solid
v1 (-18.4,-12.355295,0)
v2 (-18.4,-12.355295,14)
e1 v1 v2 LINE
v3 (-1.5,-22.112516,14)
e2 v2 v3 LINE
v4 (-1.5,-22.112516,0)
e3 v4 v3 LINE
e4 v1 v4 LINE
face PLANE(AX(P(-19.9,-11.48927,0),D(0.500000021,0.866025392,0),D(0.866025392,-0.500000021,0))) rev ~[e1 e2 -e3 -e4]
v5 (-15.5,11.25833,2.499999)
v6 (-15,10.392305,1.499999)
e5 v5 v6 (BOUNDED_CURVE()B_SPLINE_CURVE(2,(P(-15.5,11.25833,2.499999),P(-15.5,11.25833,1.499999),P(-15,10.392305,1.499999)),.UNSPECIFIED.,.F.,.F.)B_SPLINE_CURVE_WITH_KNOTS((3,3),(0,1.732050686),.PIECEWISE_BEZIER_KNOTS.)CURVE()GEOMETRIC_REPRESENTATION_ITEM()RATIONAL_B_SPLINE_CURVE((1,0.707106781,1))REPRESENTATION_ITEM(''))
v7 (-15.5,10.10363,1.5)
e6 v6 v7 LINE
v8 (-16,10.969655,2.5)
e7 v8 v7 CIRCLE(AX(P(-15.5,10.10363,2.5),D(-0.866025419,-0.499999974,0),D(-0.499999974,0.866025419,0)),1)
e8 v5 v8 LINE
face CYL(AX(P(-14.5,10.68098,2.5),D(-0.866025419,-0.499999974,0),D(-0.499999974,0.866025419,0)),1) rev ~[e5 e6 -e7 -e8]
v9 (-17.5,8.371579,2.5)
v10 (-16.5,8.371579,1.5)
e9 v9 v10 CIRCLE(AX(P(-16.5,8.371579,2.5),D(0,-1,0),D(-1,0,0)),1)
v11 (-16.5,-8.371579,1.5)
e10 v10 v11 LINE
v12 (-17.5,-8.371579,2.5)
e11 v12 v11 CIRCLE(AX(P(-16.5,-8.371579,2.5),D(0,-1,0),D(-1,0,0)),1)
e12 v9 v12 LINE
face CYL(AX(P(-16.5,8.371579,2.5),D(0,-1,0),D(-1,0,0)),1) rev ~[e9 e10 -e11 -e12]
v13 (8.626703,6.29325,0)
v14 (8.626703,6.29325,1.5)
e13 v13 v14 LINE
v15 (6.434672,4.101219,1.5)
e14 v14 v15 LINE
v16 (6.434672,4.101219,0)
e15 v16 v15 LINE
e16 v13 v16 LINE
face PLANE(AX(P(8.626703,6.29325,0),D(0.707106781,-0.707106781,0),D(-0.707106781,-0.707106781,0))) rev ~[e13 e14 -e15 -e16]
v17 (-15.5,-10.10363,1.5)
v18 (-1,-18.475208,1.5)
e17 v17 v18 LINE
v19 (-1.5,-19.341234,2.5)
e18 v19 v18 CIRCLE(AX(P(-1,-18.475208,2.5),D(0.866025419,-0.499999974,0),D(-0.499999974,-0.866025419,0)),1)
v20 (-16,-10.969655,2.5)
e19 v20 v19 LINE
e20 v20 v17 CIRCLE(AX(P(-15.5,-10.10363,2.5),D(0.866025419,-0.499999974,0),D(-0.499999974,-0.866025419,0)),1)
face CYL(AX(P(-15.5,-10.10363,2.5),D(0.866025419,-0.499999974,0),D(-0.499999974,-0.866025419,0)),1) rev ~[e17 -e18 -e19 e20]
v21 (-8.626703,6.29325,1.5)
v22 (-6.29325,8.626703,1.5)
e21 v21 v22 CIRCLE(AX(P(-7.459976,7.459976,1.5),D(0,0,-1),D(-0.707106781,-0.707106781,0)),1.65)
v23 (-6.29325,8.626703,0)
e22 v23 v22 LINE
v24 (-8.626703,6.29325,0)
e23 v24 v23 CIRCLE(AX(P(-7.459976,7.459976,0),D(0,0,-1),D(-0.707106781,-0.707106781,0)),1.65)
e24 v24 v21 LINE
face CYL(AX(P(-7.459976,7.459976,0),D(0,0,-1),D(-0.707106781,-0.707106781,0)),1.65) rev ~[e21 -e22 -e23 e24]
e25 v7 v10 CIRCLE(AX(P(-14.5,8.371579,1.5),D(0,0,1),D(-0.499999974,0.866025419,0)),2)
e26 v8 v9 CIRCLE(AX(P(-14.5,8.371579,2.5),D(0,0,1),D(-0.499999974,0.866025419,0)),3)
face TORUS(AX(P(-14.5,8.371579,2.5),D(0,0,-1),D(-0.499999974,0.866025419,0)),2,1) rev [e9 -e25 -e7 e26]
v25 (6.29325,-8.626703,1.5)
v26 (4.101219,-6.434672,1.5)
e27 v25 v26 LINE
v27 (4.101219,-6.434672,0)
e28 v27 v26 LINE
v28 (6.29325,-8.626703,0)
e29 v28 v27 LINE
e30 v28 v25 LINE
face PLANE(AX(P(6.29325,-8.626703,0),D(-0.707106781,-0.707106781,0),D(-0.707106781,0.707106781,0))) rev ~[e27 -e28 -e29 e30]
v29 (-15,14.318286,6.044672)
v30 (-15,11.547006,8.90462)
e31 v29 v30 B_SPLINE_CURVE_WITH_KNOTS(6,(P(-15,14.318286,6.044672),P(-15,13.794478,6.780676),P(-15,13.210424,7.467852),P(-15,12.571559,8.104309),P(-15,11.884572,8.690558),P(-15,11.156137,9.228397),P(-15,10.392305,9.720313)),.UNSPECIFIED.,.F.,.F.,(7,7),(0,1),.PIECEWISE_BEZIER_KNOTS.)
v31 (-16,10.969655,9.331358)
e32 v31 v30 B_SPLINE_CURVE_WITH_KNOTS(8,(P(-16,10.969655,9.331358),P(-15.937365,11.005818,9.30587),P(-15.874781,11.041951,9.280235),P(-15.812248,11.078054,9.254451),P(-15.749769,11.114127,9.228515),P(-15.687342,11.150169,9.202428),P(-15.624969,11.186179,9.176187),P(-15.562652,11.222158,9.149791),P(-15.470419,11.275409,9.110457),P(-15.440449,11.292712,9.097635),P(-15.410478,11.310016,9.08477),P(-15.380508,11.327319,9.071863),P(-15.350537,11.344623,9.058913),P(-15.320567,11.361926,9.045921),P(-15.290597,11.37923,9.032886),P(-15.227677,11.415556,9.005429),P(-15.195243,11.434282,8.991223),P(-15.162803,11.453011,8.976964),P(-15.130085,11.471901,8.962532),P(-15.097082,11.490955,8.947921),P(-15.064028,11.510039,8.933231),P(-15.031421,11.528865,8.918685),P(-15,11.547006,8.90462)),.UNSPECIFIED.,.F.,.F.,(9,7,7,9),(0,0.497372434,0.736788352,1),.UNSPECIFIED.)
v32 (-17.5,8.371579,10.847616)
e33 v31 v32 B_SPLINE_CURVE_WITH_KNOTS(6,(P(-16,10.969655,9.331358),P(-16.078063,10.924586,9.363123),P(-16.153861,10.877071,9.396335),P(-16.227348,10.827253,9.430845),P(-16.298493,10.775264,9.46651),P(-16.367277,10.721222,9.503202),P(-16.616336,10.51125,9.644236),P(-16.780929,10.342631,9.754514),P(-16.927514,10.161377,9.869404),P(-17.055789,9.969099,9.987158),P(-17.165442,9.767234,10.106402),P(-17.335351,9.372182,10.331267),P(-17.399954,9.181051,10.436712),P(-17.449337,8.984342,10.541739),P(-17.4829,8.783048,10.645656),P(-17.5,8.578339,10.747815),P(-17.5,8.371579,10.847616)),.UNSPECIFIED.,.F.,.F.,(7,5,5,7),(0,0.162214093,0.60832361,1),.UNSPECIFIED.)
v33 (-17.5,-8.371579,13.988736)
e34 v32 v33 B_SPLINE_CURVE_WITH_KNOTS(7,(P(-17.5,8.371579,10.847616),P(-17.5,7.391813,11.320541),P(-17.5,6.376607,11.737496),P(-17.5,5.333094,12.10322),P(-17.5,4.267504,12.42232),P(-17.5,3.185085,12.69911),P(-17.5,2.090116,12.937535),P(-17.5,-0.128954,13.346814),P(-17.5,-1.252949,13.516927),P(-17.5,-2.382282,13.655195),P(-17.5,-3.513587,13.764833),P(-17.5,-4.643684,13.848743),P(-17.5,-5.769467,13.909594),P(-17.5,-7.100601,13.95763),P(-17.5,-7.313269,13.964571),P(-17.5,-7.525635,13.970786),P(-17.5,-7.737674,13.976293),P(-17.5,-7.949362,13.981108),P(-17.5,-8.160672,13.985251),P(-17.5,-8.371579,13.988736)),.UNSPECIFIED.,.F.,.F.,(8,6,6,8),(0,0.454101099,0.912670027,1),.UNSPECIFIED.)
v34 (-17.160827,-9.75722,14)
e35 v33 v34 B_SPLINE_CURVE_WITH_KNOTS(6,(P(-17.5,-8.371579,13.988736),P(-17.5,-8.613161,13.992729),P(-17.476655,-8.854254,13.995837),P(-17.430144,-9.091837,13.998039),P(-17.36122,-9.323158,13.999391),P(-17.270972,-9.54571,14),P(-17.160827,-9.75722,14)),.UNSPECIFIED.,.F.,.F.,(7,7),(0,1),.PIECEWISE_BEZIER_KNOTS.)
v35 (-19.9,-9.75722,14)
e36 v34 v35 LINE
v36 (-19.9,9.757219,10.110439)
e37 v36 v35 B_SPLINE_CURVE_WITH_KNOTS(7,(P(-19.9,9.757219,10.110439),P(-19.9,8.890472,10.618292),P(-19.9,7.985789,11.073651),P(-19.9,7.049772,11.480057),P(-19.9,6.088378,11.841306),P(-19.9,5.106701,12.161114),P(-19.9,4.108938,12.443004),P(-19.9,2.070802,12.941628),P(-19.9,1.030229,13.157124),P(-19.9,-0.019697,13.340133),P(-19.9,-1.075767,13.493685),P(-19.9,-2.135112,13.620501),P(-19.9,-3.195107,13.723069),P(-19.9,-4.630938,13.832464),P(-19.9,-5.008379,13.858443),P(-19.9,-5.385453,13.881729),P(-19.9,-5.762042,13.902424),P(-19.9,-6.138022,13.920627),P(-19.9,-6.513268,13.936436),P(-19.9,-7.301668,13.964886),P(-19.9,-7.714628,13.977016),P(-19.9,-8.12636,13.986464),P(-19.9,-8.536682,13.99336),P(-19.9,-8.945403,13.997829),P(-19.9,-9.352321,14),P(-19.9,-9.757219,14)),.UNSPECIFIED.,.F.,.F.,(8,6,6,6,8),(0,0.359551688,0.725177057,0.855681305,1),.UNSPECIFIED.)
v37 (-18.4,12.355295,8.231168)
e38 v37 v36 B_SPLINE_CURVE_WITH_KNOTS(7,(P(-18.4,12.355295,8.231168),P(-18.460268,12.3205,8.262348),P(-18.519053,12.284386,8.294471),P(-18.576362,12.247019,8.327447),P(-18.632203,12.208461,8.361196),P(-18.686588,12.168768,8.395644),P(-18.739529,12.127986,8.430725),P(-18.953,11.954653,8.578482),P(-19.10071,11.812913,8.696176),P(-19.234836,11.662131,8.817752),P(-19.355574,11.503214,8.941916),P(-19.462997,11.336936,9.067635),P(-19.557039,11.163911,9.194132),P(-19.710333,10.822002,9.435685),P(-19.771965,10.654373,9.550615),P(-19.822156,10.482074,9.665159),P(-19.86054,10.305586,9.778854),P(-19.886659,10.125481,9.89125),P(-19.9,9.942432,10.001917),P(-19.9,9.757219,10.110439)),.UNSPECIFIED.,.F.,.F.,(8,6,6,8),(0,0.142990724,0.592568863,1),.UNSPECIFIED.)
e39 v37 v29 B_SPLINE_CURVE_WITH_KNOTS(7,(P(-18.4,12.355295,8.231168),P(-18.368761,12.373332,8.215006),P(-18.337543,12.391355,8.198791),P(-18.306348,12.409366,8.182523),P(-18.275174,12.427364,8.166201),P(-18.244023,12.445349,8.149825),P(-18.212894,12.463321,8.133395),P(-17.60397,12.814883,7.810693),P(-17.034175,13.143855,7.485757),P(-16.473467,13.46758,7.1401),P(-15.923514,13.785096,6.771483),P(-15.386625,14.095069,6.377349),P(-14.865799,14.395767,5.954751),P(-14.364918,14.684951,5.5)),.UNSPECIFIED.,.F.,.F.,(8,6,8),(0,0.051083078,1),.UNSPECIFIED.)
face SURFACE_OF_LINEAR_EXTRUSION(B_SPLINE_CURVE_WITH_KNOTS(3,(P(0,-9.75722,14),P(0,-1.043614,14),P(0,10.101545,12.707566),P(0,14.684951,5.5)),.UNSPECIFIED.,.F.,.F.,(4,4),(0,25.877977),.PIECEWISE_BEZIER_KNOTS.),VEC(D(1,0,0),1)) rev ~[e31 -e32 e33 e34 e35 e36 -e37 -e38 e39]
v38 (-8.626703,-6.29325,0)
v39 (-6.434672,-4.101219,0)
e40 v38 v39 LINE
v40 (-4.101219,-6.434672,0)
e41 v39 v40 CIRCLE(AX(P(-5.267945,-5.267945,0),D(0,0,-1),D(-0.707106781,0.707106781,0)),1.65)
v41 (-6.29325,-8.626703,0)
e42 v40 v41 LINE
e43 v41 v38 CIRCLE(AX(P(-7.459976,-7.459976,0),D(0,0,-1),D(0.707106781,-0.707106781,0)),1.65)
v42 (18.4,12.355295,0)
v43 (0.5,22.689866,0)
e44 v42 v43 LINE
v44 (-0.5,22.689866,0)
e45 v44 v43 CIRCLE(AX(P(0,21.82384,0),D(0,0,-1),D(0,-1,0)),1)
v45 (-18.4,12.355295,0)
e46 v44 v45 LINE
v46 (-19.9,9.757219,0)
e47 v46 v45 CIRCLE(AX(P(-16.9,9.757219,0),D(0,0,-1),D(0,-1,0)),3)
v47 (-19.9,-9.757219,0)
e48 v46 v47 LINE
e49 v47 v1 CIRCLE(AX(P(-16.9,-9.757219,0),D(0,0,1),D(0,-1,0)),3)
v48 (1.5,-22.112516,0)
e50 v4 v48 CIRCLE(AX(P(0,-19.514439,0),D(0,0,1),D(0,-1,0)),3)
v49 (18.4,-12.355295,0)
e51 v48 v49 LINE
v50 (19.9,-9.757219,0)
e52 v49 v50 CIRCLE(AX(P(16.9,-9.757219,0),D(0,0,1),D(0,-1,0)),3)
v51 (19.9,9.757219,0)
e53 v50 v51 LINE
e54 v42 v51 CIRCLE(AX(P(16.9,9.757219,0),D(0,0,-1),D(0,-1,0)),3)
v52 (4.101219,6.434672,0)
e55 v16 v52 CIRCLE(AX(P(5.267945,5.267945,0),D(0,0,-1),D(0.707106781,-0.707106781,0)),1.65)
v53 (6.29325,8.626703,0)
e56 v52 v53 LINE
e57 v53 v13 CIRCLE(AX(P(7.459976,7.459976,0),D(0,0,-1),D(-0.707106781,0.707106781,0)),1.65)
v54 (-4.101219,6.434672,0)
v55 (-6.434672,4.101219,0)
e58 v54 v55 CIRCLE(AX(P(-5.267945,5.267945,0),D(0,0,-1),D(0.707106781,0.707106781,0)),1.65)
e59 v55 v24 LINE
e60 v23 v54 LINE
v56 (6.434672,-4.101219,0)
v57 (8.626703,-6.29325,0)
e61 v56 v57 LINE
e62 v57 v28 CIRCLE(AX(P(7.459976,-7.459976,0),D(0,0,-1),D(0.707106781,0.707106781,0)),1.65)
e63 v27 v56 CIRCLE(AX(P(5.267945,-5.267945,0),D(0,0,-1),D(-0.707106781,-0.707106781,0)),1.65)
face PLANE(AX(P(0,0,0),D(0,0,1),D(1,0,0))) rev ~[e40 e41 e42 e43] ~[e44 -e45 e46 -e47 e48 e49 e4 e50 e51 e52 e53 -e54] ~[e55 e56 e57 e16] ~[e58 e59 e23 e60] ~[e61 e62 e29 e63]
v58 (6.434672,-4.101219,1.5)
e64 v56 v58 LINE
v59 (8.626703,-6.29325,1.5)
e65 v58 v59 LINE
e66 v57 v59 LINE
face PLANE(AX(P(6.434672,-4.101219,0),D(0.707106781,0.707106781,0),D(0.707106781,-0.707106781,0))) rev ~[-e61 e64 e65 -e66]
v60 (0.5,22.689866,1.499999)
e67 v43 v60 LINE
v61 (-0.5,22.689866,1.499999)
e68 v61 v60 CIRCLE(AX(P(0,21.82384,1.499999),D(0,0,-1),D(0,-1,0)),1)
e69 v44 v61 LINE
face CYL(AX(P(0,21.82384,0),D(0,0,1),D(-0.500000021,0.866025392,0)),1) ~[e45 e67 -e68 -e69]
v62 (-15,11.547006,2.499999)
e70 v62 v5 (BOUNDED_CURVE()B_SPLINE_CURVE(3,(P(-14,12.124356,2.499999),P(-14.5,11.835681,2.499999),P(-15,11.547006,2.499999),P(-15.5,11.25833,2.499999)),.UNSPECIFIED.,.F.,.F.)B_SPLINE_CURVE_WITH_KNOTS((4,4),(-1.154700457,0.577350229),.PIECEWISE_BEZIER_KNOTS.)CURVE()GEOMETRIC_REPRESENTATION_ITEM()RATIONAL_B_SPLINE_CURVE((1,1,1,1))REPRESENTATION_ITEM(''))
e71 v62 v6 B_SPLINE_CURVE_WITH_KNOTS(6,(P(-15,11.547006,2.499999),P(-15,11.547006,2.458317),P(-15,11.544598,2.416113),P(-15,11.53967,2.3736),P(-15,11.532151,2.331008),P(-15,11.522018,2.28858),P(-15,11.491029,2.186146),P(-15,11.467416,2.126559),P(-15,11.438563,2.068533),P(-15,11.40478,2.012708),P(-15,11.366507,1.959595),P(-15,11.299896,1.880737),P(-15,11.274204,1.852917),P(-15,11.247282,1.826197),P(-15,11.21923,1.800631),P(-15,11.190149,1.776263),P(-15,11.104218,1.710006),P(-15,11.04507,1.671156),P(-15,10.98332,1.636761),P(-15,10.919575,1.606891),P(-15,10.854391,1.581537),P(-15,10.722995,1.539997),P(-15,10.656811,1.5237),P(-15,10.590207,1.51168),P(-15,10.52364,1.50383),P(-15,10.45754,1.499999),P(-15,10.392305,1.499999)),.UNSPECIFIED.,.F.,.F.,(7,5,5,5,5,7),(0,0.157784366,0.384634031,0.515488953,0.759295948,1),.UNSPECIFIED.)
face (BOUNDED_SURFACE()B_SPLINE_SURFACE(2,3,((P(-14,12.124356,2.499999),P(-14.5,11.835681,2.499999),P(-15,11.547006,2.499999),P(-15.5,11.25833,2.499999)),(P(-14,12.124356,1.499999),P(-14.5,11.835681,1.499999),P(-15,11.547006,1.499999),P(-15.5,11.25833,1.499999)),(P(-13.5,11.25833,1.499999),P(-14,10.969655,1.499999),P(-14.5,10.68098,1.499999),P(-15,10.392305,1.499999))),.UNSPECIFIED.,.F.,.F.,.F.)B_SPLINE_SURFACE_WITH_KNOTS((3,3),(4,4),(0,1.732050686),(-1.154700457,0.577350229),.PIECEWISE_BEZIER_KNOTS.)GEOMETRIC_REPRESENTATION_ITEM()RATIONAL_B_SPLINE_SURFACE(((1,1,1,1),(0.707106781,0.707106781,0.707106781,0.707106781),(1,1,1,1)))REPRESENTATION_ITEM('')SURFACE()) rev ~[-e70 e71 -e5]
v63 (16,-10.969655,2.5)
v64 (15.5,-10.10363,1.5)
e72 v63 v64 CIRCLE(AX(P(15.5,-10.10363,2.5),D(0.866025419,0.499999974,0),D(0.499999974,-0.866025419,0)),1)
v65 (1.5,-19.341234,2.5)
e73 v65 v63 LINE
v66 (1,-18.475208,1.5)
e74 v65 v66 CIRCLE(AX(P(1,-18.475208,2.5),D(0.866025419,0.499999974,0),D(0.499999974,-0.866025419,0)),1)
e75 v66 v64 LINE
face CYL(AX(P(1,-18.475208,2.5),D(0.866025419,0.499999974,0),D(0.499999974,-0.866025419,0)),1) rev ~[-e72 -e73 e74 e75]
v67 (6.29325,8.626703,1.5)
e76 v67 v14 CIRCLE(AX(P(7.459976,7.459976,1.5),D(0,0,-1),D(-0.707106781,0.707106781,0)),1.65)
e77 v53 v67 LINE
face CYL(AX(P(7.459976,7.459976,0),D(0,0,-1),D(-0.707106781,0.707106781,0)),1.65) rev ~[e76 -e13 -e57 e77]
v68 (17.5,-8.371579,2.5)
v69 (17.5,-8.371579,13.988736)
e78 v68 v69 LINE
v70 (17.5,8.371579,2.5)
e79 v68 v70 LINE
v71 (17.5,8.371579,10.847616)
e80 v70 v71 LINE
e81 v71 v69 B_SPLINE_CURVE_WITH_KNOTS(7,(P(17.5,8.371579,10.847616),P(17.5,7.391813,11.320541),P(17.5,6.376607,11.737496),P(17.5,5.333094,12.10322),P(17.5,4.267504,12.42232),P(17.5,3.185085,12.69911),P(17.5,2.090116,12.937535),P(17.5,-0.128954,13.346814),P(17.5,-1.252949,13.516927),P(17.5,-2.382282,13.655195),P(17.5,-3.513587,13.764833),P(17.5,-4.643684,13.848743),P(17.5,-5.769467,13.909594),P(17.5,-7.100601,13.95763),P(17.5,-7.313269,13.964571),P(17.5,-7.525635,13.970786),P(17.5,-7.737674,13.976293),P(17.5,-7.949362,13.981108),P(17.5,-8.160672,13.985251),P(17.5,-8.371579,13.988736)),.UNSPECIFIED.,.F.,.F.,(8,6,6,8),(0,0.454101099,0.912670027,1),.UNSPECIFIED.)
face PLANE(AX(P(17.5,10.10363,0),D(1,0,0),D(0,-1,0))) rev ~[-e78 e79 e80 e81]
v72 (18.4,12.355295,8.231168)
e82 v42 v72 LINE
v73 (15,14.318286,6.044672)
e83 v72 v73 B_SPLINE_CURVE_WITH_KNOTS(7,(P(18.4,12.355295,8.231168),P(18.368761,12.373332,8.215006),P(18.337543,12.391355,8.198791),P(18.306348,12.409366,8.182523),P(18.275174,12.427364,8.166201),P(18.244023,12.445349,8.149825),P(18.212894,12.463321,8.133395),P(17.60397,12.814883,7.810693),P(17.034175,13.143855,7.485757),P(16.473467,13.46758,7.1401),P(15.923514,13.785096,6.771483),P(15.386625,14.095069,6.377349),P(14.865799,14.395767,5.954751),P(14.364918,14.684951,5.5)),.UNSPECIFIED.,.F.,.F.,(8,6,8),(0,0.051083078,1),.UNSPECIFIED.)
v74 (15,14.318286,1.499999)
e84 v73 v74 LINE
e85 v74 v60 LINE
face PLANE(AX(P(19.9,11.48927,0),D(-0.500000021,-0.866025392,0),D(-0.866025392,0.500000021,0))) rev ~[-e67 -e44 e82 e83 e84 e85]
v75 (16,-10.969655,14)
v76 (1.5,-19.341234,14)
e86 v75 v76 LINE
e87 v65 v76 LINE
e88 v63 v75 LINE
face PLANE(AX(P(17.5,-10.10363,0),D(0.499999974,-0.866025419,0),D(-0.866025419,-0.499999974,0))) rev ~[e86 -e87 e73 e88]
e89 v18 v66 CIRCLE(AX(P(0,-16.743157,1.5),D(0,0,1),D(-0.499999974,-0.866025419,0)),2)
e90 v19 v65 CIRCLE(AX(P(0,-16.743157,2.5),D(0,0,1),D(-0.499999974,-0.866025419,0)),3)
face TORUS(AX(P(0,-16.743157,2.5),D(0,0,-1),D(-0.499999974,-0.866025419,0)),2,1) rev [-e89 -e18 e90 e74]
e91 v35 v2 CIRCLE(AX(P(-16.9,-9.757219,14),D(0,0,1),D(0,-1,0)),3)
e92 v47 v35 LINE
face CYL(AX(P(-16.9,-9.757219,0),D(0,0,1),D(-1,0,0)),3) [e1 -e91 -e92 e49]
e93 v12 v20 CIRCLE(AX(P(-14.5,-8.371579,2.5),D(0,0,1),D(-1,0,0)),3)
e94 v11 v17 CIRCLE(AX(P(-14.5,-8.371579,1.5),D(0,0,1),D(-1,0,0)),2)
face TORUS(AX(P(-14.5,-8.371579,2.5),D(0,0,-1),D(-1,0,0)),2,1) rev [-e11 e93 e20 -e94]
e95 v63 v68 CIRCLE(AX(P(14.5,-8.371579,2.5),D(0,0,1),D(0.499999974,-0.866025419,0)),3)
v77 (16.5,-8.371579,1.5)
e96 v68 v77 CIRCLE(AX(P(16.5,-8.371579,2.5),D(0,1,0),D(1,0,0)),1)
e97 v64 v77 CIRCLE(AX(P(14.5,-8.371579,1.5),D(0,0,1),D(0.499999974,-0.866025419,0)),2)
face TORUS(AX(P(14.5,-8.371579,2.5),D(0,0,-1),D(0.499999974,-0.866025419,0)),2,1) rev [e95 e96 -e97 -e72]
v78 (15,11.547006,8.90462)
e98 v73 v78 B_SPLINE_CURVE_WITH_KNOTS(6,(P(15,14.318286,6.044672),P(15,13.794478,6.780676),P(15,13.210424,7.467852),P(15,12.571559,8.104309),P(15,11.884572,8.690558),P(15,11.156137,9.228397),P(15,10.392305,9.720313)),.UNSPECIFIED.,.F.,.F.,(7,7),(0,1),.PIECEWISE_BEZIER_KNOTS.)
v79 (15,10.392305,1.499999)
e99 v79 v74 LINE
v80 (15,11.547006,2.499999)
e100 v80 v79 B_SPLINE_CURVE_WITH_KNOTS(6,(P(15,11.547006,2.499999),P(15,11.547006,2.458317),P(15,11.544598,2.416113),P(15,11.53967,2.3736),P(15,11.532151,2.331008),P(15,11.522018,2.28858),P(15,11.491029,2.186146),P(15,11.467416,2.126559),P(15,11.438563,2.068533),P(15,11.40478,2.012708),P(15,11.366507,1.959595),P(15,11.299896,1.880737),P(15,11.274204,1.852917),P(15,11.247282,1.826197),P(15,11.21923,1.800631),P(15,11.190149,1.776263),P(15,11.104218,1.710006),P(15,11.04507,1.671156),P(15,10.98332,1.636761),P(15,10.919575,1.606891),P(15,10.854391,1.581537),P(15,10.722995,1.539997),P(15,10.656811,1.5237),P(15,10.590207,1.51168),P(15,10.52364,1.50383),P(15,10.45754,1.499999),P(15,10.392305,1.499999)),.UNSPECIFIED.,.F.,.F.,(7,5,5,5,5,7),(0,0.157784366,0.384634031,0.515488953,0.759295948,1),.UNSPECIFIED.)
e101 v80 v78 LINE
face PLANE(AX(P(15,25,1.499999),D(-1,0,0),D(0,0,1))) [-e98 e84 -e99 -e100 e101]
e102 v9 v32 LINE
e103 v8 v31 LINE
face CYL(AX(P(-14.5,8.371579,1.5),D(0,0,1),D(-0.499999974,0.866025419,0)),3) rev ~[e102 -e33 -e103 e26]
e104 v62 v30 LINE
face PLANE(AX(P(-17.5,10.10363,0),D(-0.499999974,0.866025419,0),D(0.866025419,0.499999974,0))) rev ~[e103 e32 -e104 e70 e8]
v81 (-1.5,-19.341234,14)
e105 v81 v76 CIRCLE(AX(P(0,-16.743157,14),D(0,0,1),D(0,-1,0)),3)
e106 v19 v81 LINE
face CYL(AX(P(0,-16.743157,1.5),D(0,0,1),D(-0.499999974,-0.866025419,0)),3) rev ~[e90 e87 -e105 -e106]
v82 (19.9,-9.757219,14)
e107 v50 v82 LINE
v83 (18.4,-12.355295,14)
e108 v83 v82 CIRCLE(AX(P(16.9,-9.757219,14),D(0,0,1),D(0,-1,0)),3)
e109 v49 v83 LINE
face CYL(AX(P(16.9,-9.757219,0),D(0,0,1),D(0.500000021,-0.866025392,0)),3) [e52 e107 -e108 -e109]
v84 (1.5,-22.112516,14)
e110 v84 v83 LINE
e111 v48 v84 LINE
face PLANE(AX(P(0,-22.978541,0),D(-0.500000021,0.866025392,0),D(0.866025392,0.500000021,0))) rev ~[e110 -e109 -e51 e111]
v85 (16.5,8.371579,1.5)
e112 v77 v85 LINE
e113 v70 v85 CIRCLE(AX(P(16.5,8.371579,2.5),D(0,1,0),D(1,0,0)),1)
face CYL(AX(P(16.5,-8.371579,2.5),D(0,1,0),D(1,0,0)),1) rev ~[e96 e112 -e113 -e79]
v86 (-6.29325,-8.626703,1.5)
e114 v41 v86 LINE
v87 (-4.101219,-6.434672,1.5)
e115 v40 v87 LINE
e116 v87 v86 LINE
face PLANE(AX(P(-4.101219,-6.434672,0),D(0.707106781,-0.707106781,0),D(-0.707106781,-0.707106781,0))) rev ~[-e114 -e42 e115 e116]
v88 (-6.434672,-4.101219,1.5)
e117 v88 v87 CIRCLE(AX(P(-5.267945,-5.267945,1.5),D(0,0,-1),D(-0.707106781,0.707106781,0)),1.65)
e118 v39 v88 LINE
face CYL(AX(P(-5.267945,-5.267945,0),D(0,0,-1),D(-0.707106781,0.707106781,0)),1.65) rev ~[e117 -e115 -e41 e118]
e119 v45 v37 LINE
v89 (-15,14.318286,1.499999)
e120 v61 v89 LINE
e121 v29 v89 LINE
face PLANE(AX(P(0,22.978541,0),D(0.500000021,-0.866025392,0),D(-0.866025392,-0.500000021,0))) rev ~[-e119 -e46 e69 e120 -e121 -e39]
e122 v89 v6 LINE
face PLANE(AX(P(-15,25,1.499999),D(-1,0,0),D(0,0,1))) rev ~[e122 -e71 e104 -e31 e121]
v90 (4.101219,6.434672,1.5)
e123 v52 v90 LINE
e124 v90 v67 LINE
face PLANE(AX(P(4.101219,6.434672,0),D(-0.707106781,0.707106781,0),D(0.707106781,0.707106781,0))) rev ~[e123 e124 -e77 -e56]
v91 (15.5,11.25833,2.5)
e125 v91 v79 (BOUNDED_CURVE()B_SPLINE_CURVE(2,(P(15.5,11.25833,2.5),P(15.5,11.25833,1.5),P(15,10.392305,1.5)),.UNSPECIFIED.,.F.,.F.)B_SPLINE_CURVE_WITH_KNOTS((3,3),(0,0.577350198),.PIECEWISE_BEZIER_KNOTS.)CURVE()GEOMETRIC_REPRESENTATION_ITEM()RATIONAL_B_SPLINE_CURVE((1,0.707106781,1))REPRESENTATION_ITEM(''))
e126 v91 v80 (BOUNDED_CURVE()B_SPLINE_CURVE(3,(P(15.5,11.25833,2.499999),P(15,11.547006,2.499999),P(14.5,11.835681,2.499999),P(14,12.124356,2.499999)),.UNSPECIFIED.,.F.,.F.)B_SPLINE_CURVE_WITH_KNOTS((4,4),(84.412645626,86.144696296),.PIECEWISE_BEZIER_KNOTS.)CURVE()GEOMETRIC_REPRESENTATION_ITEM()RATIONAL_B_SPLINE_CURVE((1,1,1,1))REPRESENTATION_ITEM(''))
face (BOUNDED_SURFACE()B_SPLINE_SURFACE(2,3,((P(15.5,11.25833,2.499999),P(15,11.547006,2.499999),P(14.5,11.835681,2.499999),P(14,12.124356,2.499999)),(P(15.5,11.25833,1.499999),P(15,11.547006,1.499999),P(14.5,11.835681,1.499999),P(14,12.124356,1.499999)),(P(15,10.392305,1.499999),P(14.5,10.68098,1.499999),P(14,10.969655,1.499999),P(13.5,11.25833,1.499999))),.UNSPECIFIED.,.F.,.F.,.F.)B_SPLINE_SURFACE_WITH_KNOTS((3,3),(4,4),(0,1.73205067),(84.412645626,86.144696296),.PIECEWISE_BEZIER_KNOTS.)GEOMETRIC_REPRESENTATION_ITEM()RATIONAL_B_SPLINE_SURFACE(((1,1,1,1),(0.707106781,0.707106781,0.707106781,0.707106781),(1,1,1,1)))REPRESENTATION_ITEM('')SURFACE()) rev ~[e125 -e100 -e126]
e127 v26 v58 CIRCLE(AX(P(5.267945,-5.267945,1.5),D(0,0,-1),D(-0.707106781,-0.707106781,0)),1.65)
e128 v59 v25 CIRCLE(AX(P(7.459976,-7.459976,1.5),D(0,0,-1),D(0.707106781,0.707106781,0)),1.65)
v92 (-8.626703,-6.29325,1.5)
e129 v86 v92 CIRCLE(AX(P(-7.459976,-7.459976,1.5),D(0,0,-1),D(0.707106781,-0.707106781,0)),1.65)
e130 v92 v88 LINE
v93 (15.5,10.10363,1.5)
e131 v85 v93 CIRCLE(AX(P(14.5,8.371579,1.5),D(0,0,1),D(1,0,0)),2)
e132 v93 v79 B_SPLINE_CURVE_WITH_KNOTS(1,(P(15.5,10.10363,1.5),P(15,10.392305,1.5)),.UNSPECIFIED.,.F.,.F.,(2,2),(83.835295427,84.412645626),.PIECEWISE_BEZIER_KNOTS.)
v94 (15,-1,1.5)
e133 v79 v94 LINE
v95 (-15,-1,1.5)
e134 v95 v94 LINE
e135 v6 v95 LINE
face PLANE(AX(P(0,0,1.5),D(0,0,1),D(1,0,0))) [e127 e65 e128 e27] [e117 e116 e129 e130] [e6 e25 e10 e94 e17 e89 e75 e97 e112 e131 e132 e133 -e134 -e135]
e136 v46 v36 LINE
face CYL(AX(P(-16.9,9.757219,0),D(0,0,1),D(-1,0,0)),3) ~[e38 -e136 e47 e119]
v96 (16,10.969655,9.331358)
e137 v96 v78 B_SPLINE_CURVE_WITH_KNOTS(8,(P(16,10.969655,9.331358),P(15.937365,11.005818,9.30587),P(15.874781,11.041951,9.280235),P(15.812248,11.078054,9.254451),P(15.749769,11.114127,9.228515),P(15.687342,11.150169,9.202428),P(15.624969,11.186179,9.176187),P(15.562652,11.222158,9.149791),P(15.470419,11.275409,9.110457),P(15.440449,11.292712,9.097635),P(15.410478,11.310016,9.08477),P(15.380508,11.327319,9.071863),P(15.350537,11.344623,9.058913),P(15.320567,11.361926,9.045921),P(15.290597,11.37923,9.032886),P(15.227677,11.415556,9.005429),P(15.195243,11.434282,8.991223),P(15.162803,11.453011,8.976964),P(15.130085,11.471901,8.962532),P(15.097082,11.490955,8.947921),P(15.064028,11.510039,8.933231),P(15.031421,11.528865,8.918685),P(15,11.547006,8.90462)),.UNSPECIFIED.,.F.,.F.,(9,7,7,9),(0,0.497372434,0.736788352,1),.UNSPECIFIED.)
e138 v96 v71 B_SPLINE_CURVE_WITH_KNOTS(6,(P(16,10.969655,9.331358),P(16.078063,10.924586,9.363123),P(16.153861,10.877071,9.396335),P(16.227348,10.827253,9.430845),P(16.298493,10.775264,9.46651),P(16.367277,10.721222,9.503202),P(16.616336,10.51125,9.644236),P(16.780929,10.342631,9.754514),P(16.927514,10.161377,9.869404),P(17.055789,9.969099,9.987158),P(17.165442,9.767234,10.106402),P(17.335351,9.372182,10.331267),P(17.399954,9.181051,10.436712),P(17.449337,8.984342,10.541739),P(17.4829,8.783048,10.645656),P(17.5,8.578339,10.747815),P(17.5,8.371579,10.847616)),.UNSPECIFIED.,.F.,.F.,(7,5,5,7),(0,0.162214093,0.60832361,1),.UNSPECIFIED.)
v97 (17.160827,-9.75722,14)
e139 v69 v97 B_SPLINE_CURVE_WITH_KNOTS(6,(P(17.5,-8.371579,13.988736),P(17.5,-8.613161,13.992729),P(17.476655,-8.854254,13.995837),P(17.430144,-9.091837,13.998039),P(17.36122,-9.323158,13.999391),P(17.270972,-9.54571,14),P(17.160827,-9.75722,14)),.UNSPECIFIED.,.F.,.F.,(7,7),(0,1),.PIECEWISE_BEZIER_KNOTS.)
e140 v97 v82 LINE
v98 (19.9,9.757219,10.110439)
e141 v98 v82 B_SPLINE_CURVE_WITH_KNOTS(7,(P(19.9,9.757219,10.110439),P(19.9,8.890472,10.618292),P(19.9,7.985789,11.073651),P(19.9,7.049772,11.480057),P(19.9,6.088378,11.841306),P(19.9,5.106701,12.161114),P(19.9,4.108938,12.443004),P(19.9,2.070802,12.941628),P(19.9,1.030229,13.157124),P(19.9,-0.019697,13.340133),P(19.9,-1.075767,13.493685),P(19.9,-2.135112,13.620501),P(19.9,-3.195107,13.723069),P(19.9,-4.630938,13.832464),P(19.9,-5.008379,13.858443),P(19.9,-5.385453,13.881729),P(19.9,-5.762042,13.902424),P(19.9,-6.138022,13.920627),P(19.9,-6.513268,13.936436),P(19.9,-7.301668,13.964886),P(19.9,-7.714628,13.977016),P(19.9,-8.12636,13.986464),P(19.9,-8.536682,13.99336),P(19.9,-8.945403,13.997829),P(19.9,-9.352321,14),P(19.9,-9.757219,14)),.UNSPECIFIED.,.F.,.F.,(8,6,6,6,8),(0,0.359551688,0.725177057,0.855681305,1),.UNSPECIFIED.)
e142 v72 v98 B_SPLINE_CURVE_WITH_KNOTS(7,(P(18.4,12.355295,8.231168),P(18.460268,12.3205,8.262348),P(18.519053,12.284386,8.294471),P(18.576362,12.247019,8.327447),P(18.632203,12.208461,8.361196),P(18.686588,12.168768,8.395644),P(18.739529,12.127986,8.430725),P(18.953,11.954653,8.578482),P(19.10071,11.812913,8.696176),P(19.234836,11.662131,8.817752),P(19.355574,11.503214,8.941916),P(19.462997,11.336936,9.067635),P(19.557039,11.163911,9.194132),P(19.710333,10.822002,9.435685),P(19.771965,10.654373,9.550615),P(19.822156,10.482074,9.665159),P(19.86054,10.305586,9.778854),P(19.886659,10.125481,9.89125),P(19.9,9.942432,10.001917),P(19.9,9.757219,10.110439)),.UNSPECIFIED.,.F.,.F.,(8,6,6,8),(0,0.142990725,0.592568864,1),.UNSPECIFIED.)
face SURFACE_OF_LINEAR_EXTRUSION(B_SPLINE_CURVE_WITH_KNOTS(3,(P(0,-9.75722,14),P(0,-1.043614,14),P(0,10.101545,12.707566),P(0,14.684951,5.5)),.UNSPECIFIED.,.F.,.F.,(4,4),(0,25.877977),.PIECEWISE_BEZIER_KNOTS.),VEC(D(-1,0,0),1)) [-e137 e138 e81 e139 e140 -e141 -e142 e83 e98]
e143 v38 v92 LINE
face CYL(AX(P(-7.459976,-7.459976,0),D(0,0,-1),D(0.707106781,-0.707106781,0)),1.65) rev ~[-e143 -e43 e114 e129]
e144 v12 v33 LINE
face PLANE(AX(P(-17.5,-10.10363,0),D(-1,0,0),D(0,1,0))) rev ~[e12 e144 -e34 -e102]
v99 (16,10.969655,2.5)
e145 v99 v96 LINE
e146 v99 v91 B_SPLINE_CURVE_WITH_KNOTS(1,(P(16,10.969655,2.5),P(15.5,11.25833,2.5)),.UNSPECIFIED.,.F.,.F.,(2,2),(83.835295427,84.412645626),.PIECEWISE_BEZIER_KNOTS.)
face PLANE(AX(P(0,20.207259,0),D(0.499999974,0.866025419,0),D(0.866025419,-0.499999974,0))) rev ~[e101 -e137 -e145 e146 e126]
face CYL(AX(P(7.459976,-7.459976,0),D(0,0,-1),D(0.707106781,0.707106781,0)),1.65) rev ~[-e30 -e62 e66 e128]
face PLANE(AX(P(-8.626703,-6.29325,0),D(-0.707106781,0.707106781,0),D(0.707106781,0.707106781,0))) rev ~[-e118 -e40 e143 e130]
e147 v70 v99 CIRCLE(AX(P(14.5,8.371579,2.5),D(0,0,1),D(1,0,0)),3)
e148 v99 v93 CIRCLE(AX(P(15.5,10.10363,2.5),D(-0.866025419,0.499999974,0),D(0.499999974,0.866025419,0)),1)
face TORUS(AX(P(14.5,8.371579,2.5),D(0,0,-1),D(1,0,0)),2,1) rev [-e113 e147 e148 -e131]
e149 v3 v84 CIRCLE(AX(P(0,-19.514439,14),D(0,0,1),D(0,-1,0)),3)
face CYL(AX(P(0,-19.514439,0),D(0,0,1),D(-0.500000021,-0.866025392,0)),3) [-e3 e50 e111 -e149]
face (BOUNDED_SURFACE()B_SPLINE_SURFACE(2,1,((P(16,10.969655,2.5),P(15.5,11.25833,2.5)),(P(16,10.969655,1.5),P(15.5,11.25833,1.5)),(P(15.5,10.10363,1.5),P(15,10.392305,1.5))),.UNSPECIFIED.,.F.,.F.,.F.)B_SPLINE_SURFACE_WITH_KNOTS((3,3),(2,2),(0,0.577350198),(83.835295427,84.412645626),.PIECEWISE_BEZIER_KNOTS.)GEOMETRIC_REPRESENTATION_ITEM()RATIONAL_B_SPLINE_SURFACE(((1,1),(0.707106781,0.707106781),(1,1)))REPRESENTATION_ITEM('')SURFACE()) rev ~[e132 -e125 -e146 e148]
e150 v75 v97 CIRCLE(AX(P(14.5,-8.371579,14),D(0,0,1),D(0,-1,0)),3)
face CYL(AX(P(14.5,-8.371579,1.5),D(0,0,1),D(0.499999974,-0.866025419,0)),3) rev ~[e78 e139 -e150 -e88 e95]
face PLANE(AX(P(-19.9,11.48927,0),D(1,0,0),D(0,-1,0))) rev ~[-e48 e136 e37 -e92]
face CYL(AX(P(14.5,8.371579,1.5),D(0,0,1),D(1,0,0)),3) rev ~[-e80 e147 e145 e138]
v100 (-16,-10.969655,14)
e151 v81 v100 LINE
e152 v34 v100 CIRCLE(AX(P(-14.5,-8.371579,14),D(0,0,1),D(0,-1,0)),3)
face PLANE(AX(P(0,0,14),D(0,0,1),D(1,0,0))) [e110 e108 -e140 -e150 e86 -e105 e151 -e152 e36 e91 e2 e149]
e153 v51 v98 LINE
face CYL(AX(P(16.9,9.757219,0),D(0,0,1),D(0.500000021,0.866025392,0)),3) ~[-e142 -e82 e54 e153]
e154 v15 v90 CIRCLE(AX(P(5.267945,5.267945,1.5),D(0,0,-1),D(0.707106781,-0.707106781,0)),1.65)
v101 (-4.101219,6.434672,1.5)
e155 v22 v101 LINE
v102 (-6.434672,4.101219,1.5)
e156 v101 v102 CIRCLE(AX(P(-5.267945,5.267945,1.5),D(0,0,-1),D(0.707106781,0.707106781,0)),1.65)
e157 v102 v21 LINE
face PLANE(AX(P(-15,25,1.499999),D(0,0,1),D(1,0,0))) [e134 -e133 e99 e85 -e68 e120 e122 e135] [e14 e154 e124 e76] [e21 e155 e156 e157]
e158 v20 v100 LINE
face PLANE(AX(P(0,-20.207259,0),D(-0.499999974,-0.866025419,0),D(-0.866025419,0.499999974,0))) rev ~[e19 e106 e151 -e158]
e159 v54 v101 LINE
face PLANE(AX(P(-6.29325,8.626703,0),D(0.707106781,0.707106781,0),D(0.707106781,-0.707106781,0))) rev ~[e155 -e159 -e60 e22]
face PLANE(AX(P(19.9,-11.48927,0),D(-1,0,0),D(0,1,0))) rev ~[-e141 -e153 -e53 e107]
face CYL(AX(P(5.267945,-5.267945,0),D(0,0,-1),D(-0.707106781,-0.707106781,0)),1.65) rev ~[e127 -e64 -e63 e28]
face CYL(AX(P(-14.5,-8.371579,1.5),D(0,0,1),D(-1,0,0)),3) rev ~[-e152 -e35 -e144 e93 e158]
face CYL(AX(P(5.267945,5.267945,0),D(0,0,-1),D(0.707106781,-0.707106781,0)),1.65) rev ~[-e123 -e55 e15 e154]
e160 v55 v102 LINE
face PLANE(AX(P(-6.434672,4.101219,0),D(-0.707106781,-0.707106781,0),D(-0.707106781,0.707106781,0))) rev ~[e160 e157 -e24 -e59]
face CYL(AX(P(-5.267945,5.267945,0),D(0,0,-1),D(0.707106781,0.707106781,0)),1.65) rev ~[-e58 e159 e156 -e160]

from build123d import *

# Parameters (mm, degrees)
F1_DEPTH = 1.5
F2_DEPTH = 14
F4_W     = 30
F4_H     = 17.707149
F5_DEPTH = 26
F6_R     = 3
F7_R     = 1
F9_DEPTH = 21.8


with BuildPart() as f1:
    # F0 (on Top) → F1 (new body)
    with BuildSketch(Plane.XY):
        Polygon((0, -20.207259), (17.5, -10.10363), (17.5, 10.10363), (0, 20.207259), (-17.5, 10.10363), (-17.5, -10.10363), align=None)
        with BuildLine():
            ThreePointArc((-6.29325, -8.626703), (-8.626703, -8.626703), (-8.626703, -6.29325))
            Line((-8.626703, -6.29325), (-6.434672, -4.101219))
            ThreePointArc((-6.434672, -4.101219), (-4.101219, -4.101219), (-4.101219, -6.434672))
            Line((-4.101219, -6.434672), (-6.29325, -8.626703))
        make_face(mode=Mode.SUBTRACT)
        with BuildLine():
            ThreePointArc((8.626703, -6.29325), (8.626703, -8.626703), (6.29325, -8.626703))
            Line((6.29325, -8.626703), (4.101219, -6.434672))
            ThreePointArc((4.101219, -6.434672), (4.101219, -4.101219), (6.434672, -4.101219))
            Line((6.434672, -4.101219), (8.626703, -6.29325))
        make_face(mode=Mode.SUBTRACT)
        with BuildLine():
            ThreePointArc((-8.626703, 6.29325), (-8.626703, 8.626703), (-6.29325, 8.626703))
            Line((-6.29325, 8.626703), (-4.101219, 6.434672))
            ThreePointArc((-4.101219, 6.434672), (-4.101219, 4.101219), (-6.434672, 4.101219))
            Line((-6.434672, 4.101219), (-8.626703, 6.29325))
        make_face(mode=Mode.SUBTRACT)
        with BuildLine():
            Line((4.101219, 6.434672), (6.29325, 8.626703))
            ThreePointArc((6.29325, 8.626703), (8.626703, 8.626703), (8.626703, 6.29325))
            Line((8.626703, 6.29325), (6.434672, 4.101219))
            ThreePointArc((6.434672, 4.101219), (4.101219, 4.101219), (4.101219, 6.434672))
        make_face(mode=Mode.SUBTRACT)
    extrude(amount=F1_DEPTH)

    # F0 (on Top) → F2 (join)
    with BuildSketch(Plane.XY):
        Polygon((-19.9, 11.48927), (-19.9, -11.48927), (0, -22.978541), (19.9, -11.48927), (19.9, 11.48927), (0, 22.978541), align=None)
        Polygon((17.5, 10.10363), (17.5, -10.10363), (0, -20.207259), (-17.5, -10.10363), (-17.5, 10.10363), (0, 20.207259), align=None, mode=Mode.SUBTRACT)
    extrude(amount=F2_DEPTH)

    # F4 (on offset) → F5 (cut)
    with BuildSketch(Plane.XZ.offset(-25)):
        with Locations((0, 10.353574)):
            Rectangle(F4_W, F4_H)
    extrude(amount=F5_DEPTH, mode=Mode.SUBTRACT)

    # F6
    f6_edges = [f1.edges().sort_by_distance(p)[0] for p in [
        (19.9, 11.48927, 7),
        (-19.9, 11.48927, 7),
        (-19.9, -11.48927, 7),
        (0, -22.978541, 7),
        (19.9, -11.48927, 7),
        (17.5, 10.10363, 7.75),
        (17.5, -10.10363, 7.75),
        (0, -20.207259, 7.75),
        (-17.5, -10.10363, 7.75),
        (-17.5, 10.10363, 7.75),
    ]]
    fillet(f6_edges, radius=F6_R)

    # F7
    f7_edges = [f1.edges().sort_by_distance(p)[0] for p in [
        (-15.5, 11.25833, 1.5),
        (0, 22.978541, 0.75),
    ]]
    fillet(f7_edges, radius=F7_R)

    # F8 (on Right) → F9 (cut, symmetric)
    with BuildSketch(Plane.YZ):
        with BuildLine():
            Line((14.684951, 14), (-9.75722, 14))
            add(Edge.make_bspline(
                [(-9.75722, 14), (-1.043614, 14), (10.101545, 12.707566), (14.684951, 5.5)],
                knots=[0, 0, 0, 0, 25.877977, 25.877977, 25.877977, 25.877977], degree=3))
            Line((14.684951, 5.5), (14.684951, 14))
        make_face()
    extrude(amount=F9_DEPTH, both=True, mode=Mode.SUBTRACT)


solid = f1.part
